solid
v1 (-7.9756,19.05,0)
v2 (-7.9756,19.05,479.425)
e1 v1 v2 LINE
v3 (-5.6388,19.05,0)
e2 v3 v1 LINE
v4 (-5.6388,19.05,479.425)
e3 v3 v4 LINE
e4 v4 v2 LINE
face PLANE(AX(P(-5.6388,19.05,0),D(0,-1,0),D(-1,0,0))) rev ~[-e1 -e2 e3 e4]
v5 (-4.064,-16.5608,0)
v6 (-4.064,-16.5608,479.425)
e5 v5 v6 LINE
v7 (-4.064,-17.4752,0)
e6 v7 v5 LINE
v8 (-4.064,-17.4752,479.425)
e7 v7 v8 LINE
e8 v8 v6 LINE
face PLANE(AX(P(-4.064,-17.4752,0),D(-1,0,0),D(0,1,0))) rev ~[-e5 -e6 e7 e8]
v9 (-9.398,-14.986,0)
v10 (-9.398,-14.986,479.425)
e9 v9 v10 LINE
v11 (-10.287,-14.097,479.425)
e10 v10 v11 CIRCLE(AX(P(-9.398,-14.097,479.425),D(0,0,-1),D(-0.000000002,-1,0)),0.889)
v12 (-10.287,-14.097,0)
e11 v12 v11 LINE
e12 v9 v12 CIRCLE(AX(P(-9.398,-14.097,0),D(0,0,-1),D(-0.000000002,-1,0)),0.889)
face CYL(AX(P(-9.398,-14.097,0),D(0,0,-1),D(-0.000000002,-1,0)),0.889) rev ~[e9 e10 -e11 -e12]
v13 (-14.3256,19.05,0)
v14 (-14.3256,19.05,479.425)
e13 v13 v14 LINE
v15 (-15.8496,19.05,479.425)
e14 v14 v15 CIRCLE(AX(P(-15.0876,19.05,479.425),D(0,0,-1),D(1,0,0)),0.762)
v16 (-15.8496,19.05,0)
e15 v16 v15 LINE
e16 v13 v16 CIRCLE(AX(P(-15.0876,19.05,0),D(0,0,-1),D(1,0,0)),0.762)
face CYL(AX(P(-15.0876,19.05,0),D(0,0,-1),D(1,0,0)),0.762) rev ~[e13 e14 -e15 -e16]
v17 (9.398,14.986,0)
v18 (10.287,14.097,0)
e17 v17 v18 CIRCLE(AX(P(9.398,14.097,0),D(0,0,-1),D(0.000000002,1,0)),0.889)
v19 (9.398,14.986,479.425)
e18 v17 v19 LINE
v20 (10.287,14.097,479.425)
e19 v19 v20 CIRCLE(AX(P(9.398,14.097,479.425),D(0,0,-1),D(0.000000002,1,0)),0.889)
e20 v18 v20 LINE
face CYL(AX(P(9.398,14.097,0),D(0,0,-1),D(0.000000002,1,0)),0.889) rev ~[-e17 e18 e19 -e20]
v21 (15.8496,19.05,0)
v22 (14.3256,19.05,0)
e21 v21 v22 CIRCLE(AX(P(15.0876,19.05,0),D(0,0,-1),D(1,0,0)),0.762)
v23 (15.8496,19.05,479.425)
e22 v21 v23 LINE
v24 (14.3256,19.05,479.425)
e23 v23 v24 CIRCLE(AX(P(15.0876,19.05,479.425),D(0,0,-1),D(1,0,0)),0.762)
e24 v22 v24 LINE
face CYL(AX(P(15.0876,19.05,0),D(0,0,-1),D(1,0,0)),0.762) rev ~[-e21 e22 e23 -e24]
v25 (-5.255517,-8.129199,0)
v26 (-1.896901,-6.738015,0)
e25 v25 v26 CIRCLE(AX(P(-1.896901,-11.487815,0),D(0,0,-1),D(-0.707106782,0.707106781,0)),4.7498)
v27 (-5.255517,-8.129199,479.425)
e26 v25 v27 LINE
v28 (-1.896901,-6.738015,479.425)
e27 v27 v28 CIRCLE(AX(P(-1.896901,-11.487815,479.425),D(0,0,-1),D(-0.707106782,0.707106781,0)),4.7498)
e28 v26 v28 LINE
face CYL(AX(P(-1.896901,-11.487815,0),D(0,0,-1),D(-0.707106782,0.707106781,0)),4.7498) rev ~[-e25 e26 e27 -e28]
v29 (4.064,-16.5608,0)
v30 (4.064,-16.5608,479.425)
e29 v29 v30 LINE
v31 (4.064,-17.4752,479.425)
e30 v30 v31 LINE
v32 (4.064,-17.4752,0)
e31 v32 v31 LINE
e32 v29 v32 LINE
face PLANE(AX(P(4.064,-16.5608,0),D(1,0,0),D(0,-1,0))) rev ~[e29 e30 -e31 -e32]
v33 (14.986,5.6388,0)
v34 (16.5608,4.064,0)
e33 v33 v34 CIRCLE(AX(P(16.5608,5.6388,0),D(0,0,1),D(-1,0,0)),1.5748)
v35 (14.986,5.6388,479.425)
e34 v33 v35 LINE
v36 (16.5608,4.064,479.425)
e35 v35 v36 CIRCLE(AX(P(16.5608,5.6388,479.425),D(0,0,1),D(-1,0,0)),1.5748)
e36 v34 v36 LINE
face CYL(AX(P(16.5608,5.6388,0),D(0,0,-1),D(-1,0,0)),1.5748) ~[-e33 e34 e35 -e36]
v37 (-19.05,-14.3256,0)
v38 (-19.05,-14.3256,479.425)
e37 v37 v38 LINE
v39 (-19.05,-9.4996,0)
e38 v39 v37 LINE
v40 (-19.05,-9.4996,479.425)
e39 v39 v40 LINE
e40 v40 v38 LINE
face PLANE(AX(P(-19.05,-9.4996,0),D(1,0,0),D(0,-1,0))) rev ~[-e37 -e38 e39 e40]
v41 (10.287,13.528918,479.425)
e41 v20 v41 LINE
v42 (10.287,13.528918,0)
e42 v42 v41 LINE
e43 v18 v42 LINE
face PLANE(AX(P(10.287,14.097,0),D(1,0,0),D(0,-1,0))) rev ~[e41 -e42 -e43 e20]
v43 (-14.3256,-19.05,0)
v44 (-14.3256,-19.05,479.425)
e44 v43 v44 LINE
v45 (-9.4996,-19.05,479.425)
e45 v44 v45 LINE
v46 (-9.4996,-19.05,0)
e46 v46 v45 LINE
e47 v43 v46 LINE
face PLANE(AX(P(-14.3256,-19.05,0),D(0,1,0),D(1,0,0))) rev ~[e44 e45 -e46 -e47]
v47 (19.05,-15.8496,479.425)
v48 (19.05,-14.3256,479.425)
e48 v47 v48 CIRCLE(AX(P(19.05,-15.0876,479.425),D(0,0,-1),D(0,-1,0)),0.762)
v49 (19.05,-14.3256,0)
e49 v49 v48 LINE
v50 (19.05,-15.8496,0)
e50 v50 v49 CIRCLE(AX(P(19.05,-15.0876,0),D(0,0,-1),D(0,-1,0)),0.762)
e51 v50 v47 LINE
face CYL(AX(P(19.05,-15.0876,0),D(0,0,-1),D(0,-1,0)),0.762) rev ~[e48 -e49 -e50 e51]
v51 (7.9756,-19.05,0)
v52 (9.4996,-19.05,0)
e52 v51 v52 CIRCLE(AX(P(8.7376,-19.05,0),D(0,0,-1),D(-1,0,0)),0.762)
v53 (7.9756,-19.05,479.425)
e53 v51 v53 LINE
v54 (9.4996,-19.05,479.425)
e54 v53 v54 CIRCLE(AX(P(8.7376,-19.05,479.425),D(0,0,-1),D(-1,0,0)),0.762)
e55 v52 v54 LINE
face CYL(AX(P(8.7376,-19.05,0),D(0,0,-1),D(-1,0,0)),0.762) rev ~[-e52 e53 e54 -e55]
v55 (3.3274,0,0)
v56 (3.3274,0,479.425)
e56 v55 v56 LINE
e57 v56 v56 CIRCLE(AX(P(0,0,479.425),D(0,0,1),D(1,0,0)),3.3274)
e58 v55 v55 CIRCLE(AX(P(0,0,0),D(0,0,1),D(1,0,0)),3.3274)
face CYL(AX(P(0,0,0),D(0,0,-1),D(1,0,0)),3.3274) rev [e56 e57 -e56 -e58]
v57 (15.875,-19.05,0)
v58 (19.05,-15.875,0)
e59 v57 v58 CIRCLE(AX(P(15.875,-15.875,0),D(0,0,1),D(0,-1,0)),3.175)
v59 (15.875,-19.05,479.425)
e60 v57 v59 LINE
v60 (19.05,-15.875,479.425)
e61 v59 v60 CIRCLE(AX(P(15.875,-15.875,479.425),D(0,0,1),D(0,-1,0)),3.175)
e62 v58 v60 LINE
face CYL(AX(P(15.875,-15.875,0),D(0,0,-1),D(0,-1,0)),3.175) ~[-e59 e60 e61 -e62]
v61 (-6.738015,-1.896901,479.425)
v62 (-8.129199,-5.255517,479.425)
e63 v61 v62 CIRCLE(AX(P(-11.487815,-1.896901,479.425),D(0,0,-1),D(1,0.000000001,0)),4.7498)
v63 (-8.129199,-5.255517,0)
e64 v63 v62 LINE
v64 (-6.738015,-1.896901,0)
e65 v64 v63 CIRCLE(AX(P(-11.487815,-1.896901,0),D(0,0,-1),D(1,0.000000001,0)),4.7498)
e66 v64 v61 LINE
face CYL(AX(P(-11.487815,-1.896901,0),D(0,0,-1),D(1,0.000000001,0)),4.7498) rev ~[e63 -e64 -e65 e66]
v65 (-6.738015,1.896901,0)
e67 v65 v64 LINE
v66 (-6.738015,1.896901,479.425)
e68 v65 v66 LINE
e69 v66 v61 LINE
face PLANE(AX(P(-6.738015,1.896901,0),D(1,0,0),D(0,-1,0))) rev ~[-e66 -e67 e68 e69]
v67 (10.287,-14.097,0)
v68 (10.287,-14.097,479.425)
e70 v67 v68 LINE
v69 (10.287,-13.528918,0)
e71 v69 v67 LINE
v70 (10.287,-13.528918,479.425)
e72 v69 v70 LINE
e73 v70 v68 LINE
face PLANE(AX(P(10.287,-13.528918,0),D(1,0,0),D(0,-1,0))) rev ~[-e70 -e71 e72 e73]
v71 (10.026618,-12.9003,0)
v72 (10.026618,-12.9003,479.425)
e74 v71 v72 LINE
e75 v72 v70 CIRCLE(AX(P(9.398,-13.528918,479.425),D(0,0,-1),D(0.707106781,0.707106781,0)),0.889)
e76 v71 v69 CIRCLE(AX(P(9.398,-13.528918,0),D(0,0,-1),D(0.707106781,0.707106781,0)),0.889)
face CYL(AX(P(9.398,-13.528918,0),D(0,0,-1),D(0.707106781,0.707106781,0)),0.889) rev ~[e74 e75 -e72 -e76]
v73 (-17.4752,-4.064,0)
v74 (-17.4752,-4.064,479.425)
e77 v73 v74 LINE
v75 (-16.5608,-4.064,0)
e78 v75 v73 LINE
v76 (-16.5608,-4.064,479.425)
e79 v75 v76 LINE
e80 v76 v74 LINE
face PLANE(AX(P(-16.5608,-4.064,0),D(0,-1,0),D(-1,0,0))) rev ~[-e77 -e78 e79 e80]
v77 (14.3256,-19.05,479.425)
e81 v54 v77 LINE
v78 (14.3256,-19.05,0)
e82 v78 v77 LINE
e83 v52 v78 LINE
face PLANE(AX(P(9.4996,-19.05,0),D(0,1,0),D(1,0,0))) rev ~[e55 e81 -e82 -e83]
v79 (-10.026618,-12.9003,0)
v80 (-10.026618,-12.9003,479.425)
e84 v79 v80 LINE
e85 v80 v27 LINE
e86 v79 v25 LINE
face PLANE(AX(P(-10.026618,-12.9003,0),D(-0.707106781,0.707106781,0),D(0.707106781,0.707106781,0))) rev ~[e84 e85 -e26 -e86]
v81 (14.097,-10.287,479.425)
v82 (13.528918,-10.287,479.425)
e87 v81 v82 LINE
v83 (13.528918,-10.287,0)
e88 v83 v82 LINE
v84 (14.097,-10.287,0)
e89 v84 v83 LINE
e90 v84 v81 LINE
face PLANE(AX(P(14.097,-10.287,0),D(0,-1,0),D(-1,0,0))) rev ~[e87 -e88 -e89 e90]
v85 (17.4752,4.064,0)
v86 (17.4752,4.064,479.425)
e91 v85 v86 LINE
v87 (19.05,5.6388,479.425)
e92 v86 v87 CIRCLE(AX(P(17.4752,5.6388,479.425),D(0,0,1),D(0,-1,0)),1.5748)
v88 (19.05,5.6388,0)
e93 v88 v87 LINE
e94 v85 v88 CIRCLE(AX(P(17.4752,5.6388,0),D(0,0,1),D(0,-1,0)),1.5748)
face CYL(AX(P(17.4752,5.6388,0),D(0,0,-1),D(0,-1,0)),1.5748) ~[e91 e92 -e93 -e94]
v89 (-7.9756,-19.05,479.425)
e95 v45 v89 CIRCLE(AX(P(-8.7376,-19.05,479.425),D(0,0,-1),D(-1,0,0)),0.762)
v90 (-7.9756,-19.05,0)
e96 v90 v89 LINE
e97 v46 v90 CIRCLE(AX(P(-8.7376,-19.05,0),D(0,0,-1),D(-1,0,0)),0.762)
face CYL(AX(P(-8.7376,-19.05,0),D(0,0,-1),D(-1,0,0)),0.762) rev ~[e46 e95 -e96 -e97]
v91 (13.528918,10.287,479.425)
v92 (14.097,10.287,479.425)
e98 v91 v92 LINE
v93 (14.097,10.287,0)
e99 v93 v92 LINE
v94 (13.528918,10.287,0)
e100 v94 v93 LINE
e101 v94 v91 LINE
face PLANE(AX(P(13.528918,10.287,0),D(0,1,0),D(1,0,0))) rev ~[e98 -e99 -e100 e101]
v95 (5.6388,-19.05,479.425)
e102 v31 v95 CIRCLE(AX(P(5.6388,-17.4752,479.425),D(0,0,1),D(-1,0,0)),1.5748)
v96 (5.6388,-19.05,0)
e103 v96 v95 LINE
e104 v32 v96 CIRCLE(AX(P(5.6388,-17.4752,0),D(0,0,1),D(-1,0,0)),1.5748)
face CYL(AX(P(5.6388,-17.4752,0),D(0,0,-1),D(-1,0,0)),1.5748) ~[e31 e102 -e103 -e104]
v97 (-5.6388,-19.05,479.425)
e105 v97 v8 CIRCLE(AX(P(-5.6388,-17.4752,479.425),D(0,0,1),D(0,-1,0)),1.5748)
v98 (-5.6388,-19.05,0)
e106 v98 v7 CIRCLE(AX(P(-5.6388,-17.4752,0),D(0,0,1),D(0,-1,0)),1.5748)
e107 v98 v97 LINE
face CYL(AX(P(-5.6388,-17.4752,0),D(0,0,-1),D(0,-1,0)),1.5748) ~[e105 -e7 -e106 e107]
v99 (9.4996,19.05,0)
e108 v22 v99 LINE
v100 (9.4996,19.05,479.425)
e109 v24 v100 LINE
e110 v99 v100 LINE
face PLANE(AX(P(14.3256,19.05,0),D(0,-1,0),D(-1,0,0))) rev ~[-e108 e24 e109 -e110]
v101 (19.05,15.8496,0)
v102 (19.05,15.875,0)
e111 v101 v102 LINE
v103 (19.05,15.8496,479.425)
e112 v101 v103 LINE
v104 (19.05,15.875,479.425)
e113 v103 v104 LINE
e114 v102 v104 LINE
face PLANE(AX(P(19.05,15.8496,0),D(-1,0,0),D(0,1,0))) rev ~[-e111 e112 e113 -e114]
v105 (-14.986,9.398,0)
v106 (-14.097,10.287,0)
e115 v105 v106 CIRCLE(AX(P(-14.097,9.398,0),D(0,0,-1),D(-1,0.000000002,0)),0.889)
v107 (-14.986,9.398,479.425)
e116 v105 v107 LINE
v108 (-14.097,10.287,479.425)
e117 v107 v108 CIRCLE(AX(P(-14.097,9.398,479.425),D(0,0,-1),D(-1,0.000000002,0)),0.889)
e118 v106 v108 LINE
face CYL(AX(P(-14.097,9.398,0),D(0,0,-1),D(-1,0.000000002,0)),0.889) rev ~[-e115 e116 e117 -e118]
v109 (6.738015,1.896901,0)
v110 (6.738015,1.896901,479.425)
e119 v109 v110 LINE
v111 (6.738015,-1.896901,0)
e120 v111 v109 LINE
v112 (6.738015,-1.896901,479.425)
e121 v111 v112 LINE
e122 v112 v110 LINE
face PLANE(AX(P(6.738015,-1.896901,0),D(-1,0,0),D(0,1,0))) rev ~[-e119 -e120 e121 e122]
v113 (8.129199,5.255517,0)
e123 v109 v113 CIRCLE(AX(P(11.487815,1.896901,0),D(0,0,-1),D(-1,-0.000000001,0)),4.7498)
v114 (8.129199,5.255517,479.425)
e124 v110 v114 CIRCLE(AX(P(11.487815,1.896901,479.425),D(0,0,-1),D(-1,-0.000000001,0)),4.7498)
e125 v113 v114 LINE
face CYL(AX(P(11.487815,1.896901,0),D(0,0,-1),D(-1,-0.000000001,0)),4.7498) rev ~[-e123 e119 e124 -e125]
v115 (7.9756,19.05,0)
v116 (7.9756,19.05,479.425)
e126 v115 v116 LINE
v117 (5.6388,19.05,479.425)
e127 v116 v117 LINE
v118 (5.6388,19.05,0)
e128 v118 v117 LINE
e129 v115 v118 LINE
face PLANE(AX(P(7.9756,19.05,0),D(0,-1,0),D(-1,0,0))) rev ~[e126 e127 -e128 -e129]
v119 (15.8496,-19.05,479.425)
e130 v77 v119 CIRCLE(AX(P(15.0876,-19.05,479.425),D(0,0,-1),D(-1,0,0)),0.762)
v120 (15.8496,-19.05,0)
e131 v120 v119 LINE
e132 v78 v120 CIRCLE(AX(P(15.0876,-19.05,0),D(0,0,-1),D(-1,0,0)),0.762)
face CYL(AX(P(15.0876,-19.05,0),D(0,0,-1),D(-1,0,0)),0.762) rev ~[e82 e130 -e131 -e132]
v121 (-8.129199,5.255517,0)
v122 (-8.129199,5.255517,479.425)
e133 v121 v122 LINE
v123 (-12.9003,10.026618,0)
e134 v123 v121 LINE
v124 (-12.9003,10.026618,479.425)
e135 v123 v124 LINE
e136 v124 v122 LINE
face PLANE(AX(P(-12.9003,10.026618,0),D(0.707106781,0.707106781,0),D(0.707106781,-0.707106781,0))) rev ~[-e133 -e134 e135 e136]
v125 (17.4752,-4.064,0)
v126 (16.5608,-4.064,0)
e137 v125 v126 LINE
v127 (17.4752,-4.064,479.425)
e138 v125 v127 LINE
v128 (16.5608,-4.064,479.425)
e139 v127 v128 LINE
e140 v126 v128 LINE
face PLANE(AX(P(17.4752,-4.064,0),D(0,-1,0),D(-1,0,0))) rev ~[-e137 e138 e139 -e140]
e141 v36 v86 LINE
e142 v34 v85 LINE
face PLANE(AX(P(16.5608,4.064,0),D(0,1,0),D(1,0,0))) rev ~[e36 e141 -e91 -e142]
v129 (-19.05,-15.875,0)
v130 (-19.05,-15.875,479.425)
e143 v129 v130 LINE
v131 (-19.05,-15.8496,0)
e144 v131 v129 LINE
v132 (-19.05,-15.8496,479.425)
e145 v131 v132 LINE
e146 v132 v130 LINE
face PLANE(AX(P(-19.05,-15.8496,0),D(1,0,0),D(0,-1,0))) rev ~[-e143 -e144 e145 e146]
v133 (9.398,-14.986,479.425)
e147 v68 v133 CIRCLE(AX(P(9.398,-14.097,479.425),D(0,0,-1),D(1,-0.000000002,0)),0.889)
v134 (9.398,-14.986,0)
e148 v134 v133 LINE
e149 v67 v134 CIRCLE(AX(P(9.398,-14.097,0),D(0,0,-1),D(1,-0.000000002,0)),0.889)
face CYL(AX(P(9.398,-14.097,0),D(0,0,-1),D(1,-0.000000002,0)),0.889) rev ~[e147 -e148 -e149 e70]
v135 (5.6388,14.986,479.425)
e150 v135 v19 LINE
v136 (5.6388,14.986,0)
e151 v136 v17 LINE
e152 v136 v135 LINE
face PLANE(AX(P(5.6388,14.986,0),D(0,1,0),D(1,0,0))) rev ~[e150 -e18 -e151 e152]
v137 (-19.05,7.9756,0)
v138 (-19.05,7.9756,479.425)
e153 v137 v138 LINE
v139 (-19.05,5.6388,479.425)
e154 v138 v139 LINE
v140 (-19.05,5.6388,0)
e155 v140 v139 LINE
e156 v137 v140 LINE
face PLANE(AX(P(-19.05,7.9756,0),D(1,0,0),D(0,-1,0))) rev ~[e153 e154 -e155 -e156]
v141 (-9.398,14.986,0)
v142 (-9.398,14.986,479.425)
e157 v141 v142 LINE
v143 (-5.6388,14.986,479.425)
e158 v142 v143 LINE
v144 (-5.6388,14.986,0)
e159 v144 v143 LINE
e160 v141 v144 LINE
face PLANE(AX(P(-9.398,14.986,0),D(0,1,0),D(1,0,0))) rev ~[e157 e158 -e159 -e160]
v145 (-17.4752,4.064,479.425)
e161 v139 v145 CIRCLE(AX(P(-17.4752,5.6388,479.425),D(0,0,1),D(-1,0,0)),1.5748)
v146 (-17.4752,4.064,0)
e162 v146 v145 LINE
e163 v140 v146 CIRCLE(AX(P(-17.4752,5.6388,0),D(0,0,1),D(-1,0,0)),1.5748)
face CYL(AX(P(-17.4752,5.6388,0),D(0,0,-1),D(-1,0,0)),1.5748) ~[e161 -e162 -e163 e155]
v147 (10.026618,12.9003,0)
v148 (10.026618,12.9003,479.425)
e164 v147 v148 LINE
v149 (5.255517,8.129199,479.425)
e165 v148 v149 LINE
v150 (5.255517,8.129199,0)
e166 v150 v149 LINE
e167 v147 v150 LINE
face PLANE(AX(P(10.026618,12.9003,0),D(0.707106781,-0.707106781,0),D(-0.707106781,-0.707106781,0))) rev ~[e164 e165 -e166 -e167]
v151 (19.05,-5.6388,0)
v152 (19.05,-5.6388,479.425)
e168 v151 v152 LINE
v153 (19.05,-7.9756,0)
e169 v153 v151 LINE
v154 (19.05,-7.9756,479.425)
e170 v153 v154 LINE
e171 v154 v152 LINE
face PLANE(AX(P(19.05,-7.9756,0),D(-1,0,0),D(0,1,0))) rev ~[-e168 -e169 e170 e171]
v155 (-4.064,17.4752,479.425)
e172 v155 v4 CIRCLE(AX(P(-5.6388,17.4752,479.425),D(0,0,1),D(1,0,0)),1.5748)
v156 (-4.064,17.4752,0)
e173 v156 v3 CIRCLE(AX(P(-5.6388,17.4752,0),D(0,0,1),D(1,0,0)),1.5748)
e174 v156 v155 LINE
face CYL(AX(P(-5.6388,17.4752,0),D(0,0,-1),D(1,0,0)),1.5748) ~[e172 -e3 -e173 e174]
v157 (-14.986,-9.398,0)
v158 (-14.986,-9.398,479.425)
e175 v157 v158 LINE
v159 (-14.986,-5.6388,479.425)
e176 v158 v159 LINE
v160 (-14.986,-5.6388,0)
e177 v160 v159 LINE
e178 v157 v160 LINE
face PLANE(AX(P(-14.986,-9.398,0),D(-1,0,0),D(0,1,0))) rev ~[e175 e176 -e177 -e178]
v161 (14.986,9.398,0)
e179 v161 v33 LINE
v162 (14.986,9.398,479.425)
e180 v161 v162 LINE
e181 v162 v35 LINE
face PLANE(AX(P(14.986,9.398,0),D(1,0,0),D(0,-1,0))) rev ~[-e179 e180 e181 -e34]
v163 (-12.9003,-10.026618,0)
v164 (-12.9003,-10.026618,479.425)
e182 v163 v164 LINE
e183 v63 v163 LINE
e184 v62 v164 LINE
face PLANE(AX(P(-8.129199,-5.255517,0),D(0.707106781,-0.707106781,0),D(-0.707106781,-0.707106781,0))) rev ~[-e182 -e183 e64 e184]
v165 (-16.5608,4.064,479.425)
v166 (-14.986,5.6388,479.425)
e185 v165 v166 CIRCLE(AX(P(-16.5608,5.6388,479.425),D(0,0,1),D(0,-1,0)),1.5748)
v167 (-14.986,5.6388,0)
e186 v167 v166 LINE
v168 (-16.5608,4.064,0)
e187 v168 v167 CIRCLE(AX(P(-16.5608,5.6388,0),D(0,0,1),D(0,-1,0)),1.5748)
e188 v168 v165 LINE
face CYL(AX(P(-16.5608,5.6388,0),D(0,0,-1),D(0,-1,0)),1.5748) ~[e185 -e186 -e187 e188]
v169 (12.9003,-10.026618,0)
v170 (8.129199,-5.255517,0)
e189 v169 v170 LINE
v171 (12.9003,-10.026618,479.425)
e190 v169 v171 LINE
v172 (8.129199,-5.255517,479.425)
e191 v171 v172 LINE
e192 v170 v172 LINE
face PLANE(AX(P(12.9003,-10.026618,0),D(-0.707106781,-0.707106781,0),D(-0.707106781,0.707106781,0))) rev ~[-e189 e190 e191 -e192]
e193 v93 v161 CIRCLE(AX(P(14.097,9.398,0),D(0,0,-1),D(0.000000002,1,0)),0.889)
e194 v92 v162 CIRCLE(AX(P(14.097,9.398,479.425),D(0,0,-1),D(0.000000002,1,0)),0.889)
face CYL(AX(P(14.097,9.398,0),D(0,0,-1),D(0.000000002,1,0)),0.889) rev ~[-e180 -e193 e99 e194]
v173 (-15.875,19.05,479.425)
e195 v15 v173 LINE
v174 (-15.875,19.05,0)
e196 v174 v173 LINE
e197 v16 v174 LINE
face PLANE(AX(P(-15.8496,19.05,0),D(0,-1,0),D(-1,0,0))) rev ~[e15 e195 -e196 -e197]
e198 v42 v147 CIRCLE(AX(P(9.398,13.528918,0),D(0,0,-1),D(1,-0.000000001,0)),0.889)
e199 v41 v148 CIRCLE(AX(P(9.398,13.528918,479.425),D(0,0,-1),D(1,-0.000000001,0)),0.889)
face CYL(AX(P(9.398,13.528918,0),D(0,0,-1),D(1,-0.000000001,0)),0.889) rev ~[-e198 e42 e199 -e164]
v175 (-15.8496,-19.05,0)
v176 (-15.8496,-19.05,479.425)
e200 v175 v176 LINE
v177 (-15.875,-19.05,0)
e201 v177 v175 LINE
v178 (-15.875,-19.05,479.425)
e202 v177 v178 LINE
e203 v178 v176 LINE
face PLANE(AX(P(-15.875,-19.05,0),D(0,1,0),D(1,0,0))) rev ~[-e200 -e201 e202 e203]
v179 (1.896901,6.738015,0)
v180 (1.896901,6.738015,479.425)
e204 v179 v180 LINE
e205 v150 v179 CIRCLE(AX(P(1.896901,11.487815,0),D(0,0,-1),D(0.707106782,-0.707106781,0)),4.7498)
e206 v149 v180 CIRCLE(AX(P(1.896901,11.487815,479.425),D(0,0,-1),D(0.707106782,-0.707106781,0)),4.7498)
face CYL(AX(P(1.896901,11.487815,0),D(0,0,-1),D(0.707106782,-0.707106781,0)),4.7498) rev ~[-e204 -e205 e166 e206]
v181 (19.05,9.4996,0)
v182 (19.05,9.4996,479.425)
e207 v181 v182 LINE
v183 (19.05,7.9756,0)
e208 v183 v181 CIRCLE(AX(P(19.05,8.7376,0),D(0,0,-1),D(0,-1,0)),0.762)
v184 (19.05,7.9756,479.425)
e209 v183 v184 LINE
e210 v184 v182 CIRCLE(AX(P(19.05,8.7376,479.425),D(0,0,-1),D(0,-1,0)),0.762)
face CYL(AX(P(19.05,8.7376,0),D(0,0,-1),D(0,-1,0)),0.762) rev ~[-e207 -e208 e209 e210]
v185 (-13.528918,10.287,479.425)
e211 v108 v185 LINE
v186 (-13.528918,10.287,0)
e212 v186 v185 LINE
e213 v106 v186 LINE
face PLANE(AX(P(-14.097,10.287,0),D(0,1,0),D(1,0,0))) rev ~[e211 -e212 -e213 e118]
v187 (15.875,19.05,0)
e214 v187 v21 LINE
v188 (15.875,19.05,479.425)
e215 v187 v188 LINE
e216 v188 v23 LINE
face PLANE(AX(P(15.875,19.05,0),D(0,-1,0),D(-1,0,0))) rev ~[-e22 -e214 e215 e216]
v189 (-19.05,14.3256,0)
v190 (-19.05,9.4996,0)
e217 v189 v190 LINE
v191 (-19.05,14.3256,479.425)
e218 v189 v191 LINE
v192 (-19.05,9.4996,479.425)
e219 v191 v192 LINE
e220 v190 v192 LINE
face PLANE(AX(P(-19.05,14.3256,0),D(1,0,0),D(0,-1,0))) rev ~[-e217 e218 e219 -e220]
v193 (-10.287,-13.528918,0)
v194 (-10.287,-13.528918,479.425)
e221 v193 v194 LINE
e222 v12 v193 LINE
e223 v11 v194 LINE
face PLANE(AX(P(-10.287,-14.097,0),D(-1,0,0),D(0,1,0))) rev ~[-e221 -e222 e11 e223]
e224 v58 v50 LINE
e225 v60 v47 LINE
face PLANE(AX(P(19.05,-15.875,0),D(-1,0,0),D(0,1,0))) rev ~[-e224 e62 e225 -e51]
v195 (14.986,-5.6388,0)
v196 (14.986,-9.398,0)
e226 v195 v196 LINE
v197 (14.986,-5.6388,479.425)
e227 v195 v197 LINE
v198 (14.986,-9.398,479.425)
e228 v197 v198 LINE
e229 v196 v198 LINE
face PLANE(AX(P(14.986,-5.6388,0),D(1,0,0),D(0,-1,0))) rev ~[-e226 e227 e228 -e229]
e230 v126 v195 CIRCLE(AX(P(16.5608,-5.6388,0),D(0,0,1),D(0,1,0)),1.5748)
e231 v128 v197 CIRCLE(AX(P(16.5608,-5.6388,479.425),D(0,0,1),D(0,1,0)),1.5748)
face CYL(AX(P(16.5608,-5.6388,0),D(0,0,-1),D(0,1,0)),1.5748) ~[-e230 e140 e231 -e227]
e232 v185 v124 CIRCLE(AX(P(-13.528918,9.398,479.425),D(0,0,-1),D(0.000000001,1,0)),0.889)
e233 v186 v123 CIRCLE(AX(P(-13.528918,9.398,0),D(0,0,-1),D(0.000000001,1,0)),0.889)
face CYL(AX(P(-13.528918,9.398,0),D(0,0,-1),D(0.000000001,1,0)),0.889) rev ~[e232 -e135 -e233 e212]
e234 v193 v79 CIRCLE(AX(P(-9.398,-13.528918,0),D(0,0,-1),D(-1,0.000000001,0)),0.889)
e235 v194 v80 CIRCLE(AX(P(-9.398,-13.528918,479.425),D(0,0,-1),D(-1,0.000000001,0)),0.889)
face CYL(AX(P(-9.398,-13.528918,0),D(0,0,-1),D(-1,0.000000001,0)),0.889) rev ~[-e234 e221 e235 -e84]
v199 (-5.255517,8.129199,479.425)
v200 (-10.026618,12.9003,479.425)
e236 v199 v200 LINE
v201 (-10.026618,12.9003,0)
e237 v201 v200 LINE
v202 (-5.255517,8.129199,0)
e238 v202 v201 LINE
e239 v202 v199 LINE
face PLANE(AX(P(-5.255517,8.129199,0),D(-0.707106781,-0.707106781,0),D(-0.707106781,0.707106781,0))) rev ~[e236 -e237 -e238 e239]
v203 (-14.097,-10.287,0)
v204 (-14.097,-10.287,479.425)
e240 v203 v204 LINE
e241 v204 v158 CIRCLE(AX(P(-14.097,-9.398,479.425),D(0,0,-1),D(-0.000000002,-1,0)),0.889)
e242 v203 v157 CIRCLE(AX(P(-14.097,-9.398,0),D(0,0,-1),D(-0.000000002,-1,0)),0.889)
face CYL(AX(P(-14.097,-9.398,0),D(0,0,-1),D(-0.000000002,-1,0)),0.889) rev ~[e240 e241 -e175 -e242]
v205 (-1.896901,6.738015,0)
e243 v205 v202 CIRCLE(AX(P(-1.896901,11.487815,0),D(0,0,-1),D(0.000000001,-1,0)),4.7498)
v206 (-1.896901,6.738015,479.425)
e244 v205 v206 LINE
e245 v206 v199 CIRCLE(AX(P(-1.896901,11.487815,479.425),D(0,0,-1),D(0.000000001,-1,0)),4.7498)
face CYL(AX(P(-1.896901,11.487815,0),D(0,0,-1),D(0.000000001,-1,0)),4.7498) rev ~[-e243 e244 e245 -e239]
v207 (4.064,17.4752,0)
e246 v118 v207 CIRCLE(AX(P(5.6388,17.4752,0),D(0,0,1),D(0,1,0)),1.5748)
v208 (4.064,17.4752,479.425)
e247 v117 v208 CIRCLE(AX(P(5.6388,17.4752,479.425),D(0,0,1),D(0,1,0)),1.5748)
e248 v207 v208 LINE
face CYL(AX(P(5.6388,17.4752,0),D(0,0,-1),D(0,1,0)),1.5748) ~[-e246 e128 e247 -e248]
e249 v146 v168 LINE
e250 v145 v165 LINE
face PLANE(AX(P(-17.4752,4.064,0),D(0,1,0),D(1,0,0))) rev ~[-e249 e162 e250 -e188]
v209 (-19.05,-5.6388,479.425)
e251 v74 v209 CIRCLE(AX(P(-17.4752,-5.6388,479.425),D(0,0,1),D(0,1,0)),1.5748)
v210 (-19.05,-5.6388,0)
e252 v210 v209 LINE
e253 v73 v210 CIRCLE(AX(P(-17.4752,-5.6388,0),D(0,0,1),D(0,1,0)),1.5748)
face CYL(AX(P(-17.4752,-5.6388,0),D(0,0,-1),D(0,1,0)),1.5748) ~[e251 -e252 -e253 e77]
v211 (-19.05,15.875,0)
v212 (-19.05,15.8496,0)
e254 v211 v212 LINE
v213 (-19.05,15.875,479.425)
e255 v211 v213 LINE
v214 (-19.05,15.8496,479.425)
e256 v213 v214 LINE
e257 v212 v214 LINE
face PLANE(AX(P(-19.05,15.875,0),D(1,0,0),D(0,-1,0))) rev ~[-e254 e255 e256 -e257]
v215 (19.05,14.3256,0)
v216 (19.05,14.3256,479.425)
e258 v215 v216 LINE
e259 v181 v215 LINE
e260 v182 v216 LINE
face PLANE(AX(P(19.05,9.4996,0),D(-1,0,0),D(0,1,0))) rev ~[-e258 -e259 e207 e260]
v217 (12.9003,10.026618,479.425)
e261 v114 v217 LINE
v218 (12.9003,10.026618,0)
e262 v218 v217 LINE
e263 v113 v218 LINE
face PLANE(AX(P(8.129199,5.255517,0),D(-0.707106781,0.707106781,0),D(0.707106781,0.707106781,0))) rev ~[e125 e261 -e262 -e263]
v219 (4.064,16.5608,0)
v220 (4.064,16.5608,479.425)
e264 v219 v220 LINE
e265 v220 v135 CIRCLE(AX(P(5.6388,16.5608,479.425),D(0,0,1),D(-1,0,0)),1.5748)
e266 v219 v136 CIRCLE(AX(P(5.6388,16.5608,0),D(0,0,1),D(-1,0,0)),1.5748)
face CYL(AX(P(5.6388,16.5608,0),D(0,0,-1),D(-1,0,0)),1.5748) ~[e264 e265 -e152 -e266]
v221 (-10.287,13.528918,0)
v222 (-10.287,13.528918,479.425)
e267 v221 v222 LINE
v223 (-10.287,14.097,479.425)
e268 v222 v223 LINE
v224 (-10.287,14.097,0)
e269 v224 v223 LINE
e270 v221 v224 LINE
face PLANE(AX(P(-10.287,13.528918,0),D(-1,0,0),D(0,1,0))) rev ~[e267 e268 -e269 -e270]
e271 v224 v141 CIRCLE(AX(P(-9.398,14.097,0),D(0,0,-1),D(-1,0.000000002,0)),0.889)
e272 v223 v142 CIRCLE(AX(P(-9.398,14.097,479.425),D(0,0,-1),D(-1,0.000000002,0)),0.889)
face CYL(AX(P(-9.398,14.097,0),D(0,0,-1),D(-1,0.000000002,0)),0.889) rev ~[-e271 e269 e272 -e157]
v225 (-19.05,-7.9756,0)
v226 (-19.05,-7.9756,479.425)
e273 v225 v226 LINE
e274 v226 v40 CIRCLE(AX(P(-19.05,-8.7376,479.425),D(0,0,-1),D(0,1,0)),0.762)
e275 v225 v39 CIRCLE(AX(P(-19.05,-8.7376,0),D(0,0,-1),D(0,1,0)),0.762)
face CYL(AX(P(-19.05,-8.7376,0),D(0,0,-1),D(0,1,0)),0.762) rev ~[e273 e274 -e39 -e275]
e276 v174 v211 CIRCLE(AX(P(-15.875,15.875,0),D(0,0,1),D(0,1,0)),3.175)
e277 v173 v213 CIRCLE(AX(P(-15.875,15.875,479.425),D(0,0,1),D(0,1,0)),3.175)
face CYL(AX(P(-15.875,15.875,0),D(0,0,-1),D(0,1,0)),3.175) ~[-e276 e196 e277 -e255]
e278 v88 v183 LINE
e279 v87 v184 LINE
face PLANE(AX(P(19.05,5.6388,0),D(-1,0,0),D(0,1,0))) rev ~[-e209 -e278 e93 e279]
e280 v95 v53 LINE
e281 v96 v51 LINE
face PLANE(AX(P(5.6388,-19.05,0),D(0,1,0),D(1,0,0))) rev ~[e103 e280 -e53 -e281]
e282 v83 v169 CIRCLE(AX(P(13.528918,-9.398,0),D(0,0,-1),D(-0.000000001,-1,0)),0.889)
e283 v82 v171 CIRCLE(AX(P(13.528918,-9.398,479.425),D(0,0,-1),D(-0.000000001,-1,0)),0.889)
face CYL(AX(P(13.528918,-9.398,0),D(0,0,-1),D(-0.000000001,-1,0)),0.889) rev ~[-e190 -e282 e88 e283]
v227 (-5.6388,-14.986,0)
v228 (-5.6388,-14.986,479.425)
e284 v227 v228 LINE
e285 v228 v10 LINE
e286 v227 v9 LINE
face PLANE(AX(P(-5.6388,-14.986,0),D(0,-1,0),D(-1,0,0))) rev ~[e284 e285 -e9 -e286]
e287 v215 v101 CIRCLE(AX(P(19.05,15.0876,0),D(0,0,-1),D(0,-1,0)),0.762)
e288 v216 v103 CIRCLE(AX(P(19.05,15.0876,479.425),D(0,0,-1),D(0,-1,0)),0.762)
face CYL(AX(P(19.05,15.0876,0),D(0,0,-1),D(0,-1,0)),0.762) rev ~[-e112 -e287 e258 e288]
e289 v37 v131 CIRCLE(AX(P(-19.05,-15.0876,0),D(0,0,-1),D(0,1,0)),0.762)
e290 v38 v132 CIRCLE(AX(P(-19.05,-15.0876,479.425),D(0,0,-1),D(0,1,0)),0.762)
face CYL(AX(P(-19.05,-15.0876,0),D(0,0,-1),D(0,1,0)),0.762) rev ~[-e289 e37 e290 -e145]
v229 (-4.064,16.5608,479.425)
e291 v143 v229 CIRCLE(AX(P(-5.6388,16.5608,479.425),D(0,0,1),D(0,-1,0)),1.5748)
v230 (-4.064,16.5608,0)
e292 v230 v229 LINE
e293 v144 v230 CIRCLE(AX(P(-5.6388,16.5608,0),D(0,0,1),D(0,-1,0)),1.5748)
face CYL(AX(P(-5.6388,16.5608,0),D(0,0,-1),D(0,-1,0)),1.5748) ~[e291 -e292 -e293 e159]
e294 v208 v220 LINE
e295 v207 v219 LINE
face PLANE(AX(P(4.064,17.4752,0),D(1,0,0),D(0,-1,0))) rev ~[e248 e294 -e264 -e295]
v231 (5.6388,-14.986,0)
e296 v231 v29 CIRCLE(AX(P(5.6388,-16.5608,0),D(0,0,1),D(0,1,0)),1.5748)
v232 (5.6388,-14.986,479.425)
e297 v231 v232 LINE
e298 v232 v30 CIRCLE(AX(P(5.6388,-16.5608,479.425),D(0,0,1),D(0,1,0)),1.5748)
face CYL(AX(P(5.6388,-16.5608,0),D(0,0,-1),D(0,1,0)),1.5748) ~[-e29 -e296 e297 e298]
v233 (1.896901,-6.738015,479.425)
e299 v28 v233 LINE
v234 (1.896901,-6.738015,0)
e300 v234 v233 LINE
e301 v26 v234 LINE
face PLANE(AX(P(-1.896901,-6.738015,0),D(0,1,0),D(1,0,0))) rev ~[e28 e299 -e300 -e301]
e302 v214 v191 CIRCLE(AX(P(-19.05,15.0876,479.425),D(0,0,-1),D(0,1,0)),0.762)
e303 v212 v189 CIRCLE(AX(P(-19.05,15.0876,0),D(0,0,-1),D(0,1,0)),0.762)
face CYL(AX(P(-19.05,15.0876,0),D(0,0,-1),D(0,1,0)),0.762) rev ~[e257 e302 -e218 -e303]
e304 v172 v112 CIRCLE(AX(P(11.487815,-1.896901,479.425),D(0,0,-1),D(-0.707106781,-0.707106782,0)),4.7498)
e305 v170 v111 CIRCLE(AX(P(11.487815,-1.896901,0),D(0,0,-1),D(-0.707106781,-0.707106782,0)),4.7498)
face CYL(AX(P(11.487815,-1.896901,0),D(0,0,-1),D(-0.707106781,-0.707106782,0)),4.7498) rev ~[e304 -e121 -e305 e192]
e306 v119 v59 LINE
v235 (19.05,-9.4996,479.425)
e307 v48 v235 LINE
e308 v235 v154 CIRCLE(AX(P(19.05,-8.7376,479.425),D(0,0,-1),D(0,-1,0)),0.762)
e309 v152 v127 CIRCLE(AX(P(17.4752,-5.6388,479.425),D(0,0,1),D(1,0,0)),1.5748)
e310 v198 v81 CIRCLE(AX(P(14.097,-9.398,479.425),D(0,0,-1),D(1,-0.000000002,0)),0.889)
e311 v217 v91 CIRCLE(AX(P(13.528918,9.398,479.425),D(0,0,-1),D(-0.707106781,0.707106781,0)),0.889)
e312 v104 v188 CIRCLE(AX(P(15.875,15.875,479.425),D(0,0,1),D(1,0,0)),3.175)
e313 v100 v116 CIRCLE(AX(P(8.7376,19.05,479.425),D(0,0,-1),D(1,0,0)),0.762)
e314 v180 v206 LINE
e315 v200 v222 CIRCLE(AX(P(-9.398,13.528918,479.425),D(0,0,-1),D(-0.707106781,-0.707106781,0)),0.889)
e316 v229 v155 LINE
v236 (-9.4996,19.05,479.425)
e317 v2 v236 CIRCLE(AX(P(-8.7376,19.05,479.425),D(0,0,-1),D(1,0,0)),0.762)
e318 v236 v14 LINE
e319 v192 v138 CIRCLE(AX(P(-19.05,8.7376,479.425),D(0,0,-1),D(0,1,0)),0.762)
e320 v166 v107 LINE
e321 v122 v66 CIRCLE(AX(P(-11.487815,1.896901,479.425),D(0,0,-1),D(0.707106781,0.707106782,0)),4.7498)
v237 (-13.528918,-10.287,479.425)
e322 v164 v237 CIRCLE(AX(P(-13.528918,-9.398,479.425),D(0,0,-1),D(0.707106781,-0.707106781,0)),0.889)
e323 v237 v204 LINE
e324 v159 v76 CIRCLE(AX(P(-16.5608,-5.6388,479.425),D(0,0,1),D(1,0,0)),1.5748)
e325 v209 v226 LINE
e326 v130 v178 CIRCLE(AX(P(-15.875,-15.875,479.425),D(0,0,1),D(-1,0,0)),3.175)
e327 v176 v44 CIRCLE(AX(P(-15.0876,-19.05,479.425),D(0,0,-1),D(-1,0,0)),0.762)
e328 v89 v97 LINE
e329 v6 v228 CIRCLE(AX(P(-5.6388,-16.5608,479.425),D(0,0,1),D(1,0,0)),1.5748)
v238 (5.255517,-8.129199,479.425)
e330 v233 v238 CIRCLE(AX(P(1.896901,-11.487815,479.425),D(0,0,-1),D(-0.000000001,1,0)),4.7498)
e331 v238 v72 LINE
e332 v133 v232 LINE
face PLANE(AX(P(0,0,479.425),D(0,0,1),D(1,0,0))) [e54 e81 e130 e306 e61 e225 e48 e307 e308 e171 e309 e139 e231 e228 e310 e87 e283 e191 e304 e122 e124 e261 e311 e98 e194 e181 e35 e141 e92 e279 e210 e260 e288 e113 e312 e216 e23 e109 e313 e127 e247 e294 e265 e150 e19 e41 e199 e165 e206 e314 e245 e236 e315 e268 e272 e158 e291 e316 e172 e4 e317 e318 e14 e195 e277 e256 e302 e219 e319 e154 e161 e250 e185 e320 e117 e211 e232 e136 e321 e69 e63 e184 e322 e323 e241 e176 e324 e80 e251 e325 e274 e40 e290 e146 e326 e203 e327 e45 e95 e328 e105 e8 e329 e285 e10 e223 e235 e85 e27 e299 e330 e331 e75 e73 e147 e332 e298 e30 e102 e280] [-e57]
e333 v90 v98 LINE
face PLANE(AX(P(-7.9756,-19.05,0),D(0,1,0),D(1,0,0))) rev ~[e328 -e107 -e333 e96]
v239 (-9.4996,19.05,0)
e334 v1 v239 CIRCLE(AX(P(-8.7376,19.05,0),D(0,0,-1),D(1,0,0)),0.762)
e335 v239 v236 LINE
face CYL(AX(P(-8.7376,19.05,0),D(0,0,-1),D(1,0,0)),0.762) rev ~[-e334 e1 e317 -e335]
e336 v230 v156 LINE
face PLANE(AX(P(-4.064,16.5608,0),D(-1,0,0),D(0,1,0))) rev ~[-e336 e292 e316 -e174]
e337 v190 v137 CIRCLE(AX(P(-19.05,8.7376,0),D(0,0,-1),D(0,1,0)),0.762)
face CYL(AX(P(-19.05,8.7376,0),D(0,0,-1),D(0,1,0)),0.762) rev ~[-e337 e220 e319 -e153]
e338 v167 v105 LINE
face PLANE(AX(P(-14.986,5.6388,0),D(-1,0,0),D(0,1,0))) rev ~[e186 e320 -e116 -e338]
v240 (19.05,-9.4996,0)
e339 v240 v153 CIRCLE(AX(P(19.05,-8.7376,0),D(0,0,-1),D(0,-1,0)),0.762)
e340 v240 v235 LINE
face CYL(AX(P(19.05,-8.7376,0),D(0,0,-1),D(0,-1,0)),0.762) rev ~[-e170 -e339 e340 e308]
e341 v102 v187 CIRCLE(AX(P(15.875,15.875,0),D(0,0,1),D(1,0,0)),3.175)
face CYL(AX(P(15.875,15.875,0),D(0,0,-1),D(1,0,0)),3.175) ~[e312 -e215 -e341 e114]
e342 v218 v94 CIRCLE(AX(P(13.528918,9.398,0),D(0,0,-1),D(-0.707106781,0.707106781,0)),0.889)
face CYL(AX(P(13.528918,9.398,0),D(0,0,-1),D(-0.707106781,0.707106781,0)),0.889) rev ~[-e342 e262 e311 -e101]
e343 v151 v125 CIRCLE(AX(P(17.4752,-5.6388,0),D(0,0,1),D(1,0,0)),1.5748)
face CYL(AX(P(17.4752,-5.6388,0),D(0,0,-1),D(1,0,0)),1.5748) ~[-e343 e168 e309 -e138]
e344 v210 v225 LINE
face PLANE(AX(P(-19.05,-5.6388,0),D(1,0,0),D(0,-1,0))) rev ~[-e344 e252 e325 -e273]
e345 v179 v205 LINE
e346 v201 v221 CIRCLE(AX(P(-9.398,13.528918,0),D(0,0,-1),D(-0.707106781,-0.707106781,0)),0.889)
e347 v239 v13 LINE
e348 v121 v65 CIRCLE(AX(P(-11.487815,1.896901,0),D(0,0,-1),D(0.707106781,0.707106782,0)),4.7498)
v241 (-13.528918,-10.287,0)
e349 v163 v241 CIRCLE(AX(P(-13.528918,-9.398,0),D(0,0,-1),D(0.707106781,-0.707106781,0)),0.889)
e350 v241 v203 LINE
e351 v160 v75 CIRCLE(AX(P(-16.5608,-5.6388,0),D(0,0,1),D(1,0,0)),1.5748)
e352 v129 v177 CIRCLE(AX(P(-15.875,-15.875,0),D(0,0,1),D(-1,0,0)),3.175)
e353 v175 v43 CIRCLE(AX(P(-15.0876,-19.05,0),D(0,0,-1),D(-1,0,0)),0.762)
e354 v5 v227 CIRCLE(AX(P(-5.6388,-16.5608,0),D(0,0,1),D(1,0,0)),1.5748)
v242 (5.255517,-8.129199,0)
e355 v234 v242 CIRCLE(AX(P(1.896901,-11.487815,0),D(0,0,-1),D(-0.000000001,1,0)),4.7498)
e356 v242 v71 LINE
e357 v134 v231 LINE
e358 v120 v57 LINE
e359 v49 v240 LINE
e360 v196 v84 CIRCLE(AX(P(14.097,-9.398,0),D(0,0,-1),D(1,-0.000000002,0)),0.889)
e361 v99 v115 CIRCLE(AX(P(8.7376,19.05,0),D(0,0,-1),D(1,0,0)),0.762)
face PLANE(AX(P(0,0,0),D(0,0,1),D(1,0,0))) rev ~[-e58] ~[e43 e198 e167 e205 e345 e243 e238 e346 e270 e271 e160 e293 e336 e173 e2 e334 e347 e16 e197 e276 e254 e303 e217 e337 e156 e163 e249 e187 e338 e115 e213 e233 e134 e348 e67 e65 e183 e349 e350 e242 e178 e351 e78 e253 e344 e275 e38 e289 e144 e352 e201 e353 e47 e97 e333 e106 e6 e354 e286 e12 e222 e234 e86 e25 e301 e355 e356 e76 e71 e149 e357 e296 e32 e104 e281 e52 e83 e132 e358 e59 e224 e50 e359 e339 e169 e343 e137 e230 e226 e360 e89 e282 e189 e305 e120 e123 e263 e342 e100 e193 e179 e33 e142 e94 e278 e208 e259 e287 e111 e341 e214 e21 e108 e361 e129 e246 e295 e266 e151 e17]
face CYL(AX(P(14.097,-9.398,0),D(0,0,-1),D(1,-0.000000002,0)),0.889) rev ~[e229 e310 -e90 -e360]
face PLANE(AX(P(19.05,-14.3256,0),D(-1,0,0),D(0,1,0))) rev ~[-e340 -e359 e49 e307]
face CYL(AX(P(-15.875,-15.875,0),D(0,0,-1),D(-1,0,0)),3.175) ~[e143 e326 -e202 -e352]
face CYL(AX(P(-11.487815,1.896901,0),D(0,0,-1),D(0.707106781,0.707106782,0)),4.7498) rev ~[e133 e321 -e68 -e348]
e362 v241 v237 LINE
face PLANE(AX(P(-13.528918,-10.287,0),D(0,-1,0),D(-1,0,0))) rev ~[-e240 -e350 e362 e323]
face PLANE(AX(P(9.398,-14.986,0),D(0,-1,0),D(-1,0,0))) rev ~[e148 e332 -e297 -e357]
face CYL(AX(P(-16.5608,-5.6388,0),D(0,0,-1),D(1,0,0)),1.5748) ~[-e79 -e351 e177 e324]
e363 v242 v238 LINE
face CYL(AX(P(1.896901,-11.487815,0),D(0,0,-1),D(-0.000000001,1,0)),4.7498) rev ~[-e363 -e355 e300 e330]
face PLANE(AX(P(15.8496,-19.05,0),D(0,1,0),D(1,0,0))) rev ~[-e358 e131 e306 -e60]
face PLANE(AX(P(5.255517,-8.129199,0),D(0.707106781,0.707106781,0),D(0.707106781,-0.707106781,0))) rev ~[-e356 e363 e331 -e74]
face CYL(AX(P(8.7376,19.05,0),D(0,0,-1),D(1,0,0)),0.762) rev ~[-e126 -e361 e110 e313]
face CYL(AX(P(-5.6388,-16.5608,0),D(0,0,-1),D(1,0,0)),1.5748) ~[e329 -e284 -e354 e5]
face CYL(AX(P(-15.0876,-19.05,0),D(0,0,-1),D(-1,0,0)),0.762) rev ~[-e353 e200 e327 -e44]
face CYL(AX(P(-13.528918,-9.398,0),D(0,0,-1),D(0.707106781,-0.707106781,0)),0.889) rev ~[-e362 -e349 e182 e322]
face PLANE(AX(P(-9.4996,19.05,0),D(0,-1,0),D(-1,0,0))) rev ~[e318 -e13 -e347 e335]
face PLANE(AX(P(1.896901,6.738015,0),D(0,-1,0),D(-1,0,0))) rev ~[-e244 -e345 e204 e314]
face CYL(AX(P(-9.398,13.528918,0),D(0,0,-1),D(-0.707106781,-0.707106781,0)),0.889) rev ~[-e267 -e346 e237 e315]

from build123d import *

# Parameters (mm, degrees)
SKETCH1_R           = 3.3274
BOSS_EXTRUDE1_DEPTH = 479.425


with BuildPart() as part:
    # Sketch1 → Boss-Extrude1 (new body)
    with BuildSketch(Plane.XY):
        with BuildLine():
            Line((-14.097, 10.287), (-13.528918, 10.287))
            ThreePointArc((-13.528918, 10.287), (-13.188712428, 10.219328904), (-12.900300071, 10.026617928))
            Line((-12.900300071, 10.026617928), (-8.129198975, 5.255516832))
            ThreePointArc((-8.129198975, 5.255516832), (-7.09957176, 3.71457081), (-6.738014764, 1.896901043))
            Line((-6.738014764, 1.896901043), (-6.738014764, -1.896901043))
            ThreePointArc((-6.738014764, -1.896901043), (-7.09957176, -3.71457081), (-8.129198975, -5.255516832))
            Line((-8.129198975, -5.255516832), (-12.900300071, -10.026617928))
            ThreePointArc((-12.900300071, -10.026617928), (-13.188712428, -10.219328904), (-13.528918, -10.287))
            Line((-13.528918, -10.287), (-14.097, -10.287))
            ThreePointArc((-14.097, -10.287), (-14.725617928, -10.026617928), (-14.986, -9.398))
            Line((-14.986, -9.398), (-14.986, -5.6388))
            ThreePointArc((-14.986, -5.6388), (-15.447248241, -4.525248241), (-16.5608, -4.064))
            Line((-16.5608, -4.064), (-17.4752, -4.064))
            ThreePointArc((-17.4752, -4.064), (-18.588751759, -4.525248241), (-19.05, -5.6388))
            Line((-19.05, -5.6388), (-19.05, -7.9756))
            ThreePointArc((-19.05, -7.9756), (-18.288, -8.7376), (-19.05, -9.4996))
            Line((-19.05, -9.4996), (-19.05, -14.3256))
            ThreePointArc((-19.05, -14.3256), (-18.288, -15.0876), (-19.05, -15.8496))
            Line((-19.05, -15.8496), (-19.05, -15.875))
            ThreePointArc((-19.05, -15.875), (-18.12006403, -18.12006403), (-15.875, -19.05))
            Line((-15.875, -19.05), (-15.8496, -19.05))
            ThreePointArc((-15.8496, -19.05), (-15.0876, -18.288), (-14.3256, -19.05))
            Line((-14.3256, -19.05), (-9.4996, -19.05))
            ThreePointArc((-9.4996, -19.05), (-8.7376, -18.288), (-7.9756, -19.05))
            Line((-7.9756, -19.05), (-5.6388, -19.05))
            ThreePointArc((-5.6388, -19.05), (-4.525248241, -18.588751759), (-4.064, -17.4752))
            Line((-4.064, -17.4752), (-4.064, -16.5608))
            ThreePointArc((-4.064, -16.5608), (-4.525248241, -15.447248241), (-5.6388, -14.986))
            Line((-5.6388, -14.986), (-9.398, -14.986))
            ThreePointArc((-9.398, -14.986), (-10.026617928, -14.725617928), (-10.287, -14.097))
            Line((-10.287, -14.097), (-10.287, -13.528918))
            ThreePointArc((-10.287, -13.528918), (-10.219328904, -13.188712428), (-10.026617928, -12.900300071))
            Line((-10.026617928, -12.900300071), (-5.255516832, -8.129198975))
            ThreePointArc((-5.255516832, -8.129198975), (-3.71457081, -7.09957176), (-1.896901043, -6.738014764))
            Line((-1.896901043, -6.738014764), (1.896901043, -6.738014764))
            ThreePointArc((1.896901043, -6.738014764), (3.71457081, -7.09957176), (5.255516832, -8.129198975))
            Line((5.255516832, -8.129198975), (10.026617928, -12.900300071))
            ThreePointArc((10.026617928, -12.900300071), (10.219328904, -13.188712428), (10.287, -13.528918))
            Line((10.287, -13.528918), (10.287, -14.097))
            ThreePointArc((10.287, -14.097), (10.026617928, -14.725617928), (9.398, -14.986))
            Line((9.398, -14.986), (5.6388, -14.986))
            ThreePointArc((5.6388, -14.986), (4.525248241, -15.447248241), (4.064, -16.5608))
            Line((4.064, -16.5608), (4.064, -17.4752))
            ThreePointArc((4.064, -17.4752), (4.525248241, -18.588751759), (5.6388, -19.05))
            Line((5.6388, -19.05), (7.9756, -19.05))
            ThreePointArc((7.9756, -19.05), (8.7376, -18.288), (9.4996, -19.05))
            Line((9.4996, -19.05), (14.3256, -19.05))
            ThreePointArc((14.3256, -19.05), (15.0876, -18.288), (15.8496, -19.05))
            Line((15.8496, -19.05), (15.875, -19.05))
            ThreePointArc((15.875, -19.05), (18.12006403, -18.12006403), (19.05, -15.875))
            Line((19.05, -15.875), (19.05, -15.8496))
            ThreePointArc((19.05, -15.8496), (18.288, -15.0876), (19.05, -14.3256))
            Line((19.05, -14.3256), (19.05, -9.4996))
            ThreePointArc((19.05, -9.4996), (18.288, -8.7376), (19.05, -7.9756))
            Line((19.05, -7.9756), (19.05, -5.6388))
            ThreePointArc((19.05, -5.6388), (18.588751759, -4.525248241), (17.4752, -4.064))
            Line((17.4752, -4.064), (16.5608, -4.064))
            ThreePointArc((16.5608, -4.064), (15.447248241, -4.525248241), (14.986, -5.6388))
            Line((14.986, -5.6388), (14.986, -9.398))
            ThreePointArc((14.986, -9.398), (14.725617928, -10.026617928), (14.097, -10.287))
            Line((14.097, -10.287), (13.528918, -10.287))
            ThreePointArc((13.528918, -10.287), (13.188712428, -10.219328904), (12.900300071, -10.026617928))
            Line((12.900300071, -10.026617928), (8.129198975, -5.255516832))
            ThreePointArc((8.129198975, -5.255516832), (7.09957176, -3.71457081), (6.738014764, -1.896901043))
            Line((6.738014764, -1.896901043), (6.738014764, 1.896901043))
            ThreePointArc((6.738014764, 1.896901043), (7.09957176, 3.71457081), (8.129198975, 5.255516832))
            Line((8.129198975, 5.255516832), (12.900300071, 10.026617928))
            ThreePointArc((12.900300071, 10.026617928), (13.188712428, 10.219328904), (13.528918, 10.287))
            Line((13.528918, 10.287), (14.097, 10.287))
            ThreePointArc((14.097, 10.287), (14.725617928, 10.026617928), (14.986, 9.398))
            Line((14.986, 9.398), (14.986, 5.6388))
            ThreePointArc((14.986, 5.6388), (15.447248241, 4.525248241), (16.5608, 4.064))
            Line((16.5608, 4.064), (17.4752, 4.064))
            ThreePointArc((17.4752, 4.064), (18.588751759, 4.525248241), (19.05, 5.6388))
            Line((19.05, 5.6388), (19.05, 7.9756))
            ThreePointArc((19.05, 7.9756), (18.288, 8.7376), (19.05, 9.4996))
            Line((19.05, 9.4996), (19.05, 14.3256))
            ThreePointArc((19.05, 14.3256), (18.288, 15.0876), (19.05, 15.8496))
            Line((19.05, 15.8496), (19.05, 15.875))
            ThreePointArc((19.05, 15.875), (18.12006403, 18.12006403), (15.875, 19.05))
            Line((15.875, 19.05), (15.8496, 19.05))
            ThreePointArc((15.8496, 19.05), (15.0876, 18.288), (14.3256, 19.05))
            Line((14.3256, 19.05), (9.4996, 19.05))
            ThreePointArc((9.4996, 19.05), (8.7376, 18.288), (7.9756, 19.05))
            Line((7.9756, 19.05), (5.6388, 19.05))
            ThreePointArc((5.6388, 19.05), (4.525248241, 18.588751759), (4.064, 17.4752))
            Line((4.064, 17.4752), (4.064, 16.5608))
            ThreePointArc((4.064, 16.5608), (4.525248241, 15.447248241), (5.6388, 14.986))
            Line((5.6388, 14.986), (9.398, 14.986))
            ThreePointArc((9.398, 14.986), (10.026617928, 14.725617928), (10.287, 14.097))
            Line((10.287, 14.097), (10.287, 13.528918))
            ThreePointArc((10.287, 13.528918), (10.219328904, 13.188712428), (10.026617928, 12.900300071))
            Line((10.026617928, 12.900300071), (5.255516832, 8.129198975))
            ThreePointArc((5.255516832, 8.129198975), (3.71457081, 7.09957176), (1.896901043, 6.738014764))
            Line((1.896901043, 6.738014764), (-1.896901043, 6.738014764))
            ThreePointArc((-1.896901043, 6.738014764), (-3.71457081, 7.09957176), (-5.255516832, 8.129198975))
            Line((-5.255516832, 8.129198975), (-10.026617928, 12.900300071))
            ThreePointArc((-10.026617928, 12.900300071), (-10.219328904, 13.188712428), (-10.287, 13.528918))
            Line((-10.287, 13.528918), (-10.287, 14.097))
            ThreePointArc((-10.287, 14.097), (-10.026617928, 14.725617928), (-9.398, 14.986))
            Line((-9.398, 14.986), (-5.6388, 14.986))
            ThreePointArc((-5.6388, 14.986), (-4.525248241, 15.447248241), (-4.064, 16.5608))
            Line((-4.064, 16.5608), (-4.064, 17.4752))
            ThreePointArc((-4.064, 17.4752), (-4.525248241, 18.588751759), (-5.6388, 19.05))
            Line((-5.6388, 19.05), (-7.9756, 19.05))
            ThreePointArc((-7.9756, 19.05), (-8.7376, 18.288), (-9.4996, 19.05))
            Line((-9.4996, 19.05), (-14.3256, 19.05))
            ThreePointArc((-14.3256, 19.05), (-15.0876, 18.288), (-15.8496, 19.05))
            Line((-15.8496, 19.05), (-15.875, 19.05))
            ThreePointArc((-15.875, 19.05), (-18.12006403, 18.12006403), (-19.05, 15.875))
            Line((-19.05, 15.875), (-19.05, 15.8496))
            ThreePointArc((-19.05, 15.8496), (-18.288, 15.0876), (-19.05, 14.3256))
            Line((-19.05, 14.3256), (-19.05, 9.4996))
            ThreePointArc((-19.05, 9.4996), (-18.288, 8.7376), (-19.05, 7.9756))
            Line((-19.05, 7.9756), (-19.05, 5.6388))
            ThreePointArc((-19.05, 5.6388), (-18.588751759, 4.525248241), (-17.4752, 4.064))
            Line((-17.4752, 4.064), (-16.5608, 4.064))
            ThreePointArc((-16.5608, 4.064), (-15.447248241, 4.525248241), (-14.986, 5.6388))
            Line((-14.986, 5.6388), (-14.986, 9.398))
            ThreePointArc((-14.986, 9.398), (-14.725617928, 10.026617928), (-14.097, 10.287))
        make_face()
        Circle(SKETCH1_R, mode=Mode.SUBTRACT)
    extrude(amount=BOSS_EXTRUDE1_DEPTH)


solid = part.part
